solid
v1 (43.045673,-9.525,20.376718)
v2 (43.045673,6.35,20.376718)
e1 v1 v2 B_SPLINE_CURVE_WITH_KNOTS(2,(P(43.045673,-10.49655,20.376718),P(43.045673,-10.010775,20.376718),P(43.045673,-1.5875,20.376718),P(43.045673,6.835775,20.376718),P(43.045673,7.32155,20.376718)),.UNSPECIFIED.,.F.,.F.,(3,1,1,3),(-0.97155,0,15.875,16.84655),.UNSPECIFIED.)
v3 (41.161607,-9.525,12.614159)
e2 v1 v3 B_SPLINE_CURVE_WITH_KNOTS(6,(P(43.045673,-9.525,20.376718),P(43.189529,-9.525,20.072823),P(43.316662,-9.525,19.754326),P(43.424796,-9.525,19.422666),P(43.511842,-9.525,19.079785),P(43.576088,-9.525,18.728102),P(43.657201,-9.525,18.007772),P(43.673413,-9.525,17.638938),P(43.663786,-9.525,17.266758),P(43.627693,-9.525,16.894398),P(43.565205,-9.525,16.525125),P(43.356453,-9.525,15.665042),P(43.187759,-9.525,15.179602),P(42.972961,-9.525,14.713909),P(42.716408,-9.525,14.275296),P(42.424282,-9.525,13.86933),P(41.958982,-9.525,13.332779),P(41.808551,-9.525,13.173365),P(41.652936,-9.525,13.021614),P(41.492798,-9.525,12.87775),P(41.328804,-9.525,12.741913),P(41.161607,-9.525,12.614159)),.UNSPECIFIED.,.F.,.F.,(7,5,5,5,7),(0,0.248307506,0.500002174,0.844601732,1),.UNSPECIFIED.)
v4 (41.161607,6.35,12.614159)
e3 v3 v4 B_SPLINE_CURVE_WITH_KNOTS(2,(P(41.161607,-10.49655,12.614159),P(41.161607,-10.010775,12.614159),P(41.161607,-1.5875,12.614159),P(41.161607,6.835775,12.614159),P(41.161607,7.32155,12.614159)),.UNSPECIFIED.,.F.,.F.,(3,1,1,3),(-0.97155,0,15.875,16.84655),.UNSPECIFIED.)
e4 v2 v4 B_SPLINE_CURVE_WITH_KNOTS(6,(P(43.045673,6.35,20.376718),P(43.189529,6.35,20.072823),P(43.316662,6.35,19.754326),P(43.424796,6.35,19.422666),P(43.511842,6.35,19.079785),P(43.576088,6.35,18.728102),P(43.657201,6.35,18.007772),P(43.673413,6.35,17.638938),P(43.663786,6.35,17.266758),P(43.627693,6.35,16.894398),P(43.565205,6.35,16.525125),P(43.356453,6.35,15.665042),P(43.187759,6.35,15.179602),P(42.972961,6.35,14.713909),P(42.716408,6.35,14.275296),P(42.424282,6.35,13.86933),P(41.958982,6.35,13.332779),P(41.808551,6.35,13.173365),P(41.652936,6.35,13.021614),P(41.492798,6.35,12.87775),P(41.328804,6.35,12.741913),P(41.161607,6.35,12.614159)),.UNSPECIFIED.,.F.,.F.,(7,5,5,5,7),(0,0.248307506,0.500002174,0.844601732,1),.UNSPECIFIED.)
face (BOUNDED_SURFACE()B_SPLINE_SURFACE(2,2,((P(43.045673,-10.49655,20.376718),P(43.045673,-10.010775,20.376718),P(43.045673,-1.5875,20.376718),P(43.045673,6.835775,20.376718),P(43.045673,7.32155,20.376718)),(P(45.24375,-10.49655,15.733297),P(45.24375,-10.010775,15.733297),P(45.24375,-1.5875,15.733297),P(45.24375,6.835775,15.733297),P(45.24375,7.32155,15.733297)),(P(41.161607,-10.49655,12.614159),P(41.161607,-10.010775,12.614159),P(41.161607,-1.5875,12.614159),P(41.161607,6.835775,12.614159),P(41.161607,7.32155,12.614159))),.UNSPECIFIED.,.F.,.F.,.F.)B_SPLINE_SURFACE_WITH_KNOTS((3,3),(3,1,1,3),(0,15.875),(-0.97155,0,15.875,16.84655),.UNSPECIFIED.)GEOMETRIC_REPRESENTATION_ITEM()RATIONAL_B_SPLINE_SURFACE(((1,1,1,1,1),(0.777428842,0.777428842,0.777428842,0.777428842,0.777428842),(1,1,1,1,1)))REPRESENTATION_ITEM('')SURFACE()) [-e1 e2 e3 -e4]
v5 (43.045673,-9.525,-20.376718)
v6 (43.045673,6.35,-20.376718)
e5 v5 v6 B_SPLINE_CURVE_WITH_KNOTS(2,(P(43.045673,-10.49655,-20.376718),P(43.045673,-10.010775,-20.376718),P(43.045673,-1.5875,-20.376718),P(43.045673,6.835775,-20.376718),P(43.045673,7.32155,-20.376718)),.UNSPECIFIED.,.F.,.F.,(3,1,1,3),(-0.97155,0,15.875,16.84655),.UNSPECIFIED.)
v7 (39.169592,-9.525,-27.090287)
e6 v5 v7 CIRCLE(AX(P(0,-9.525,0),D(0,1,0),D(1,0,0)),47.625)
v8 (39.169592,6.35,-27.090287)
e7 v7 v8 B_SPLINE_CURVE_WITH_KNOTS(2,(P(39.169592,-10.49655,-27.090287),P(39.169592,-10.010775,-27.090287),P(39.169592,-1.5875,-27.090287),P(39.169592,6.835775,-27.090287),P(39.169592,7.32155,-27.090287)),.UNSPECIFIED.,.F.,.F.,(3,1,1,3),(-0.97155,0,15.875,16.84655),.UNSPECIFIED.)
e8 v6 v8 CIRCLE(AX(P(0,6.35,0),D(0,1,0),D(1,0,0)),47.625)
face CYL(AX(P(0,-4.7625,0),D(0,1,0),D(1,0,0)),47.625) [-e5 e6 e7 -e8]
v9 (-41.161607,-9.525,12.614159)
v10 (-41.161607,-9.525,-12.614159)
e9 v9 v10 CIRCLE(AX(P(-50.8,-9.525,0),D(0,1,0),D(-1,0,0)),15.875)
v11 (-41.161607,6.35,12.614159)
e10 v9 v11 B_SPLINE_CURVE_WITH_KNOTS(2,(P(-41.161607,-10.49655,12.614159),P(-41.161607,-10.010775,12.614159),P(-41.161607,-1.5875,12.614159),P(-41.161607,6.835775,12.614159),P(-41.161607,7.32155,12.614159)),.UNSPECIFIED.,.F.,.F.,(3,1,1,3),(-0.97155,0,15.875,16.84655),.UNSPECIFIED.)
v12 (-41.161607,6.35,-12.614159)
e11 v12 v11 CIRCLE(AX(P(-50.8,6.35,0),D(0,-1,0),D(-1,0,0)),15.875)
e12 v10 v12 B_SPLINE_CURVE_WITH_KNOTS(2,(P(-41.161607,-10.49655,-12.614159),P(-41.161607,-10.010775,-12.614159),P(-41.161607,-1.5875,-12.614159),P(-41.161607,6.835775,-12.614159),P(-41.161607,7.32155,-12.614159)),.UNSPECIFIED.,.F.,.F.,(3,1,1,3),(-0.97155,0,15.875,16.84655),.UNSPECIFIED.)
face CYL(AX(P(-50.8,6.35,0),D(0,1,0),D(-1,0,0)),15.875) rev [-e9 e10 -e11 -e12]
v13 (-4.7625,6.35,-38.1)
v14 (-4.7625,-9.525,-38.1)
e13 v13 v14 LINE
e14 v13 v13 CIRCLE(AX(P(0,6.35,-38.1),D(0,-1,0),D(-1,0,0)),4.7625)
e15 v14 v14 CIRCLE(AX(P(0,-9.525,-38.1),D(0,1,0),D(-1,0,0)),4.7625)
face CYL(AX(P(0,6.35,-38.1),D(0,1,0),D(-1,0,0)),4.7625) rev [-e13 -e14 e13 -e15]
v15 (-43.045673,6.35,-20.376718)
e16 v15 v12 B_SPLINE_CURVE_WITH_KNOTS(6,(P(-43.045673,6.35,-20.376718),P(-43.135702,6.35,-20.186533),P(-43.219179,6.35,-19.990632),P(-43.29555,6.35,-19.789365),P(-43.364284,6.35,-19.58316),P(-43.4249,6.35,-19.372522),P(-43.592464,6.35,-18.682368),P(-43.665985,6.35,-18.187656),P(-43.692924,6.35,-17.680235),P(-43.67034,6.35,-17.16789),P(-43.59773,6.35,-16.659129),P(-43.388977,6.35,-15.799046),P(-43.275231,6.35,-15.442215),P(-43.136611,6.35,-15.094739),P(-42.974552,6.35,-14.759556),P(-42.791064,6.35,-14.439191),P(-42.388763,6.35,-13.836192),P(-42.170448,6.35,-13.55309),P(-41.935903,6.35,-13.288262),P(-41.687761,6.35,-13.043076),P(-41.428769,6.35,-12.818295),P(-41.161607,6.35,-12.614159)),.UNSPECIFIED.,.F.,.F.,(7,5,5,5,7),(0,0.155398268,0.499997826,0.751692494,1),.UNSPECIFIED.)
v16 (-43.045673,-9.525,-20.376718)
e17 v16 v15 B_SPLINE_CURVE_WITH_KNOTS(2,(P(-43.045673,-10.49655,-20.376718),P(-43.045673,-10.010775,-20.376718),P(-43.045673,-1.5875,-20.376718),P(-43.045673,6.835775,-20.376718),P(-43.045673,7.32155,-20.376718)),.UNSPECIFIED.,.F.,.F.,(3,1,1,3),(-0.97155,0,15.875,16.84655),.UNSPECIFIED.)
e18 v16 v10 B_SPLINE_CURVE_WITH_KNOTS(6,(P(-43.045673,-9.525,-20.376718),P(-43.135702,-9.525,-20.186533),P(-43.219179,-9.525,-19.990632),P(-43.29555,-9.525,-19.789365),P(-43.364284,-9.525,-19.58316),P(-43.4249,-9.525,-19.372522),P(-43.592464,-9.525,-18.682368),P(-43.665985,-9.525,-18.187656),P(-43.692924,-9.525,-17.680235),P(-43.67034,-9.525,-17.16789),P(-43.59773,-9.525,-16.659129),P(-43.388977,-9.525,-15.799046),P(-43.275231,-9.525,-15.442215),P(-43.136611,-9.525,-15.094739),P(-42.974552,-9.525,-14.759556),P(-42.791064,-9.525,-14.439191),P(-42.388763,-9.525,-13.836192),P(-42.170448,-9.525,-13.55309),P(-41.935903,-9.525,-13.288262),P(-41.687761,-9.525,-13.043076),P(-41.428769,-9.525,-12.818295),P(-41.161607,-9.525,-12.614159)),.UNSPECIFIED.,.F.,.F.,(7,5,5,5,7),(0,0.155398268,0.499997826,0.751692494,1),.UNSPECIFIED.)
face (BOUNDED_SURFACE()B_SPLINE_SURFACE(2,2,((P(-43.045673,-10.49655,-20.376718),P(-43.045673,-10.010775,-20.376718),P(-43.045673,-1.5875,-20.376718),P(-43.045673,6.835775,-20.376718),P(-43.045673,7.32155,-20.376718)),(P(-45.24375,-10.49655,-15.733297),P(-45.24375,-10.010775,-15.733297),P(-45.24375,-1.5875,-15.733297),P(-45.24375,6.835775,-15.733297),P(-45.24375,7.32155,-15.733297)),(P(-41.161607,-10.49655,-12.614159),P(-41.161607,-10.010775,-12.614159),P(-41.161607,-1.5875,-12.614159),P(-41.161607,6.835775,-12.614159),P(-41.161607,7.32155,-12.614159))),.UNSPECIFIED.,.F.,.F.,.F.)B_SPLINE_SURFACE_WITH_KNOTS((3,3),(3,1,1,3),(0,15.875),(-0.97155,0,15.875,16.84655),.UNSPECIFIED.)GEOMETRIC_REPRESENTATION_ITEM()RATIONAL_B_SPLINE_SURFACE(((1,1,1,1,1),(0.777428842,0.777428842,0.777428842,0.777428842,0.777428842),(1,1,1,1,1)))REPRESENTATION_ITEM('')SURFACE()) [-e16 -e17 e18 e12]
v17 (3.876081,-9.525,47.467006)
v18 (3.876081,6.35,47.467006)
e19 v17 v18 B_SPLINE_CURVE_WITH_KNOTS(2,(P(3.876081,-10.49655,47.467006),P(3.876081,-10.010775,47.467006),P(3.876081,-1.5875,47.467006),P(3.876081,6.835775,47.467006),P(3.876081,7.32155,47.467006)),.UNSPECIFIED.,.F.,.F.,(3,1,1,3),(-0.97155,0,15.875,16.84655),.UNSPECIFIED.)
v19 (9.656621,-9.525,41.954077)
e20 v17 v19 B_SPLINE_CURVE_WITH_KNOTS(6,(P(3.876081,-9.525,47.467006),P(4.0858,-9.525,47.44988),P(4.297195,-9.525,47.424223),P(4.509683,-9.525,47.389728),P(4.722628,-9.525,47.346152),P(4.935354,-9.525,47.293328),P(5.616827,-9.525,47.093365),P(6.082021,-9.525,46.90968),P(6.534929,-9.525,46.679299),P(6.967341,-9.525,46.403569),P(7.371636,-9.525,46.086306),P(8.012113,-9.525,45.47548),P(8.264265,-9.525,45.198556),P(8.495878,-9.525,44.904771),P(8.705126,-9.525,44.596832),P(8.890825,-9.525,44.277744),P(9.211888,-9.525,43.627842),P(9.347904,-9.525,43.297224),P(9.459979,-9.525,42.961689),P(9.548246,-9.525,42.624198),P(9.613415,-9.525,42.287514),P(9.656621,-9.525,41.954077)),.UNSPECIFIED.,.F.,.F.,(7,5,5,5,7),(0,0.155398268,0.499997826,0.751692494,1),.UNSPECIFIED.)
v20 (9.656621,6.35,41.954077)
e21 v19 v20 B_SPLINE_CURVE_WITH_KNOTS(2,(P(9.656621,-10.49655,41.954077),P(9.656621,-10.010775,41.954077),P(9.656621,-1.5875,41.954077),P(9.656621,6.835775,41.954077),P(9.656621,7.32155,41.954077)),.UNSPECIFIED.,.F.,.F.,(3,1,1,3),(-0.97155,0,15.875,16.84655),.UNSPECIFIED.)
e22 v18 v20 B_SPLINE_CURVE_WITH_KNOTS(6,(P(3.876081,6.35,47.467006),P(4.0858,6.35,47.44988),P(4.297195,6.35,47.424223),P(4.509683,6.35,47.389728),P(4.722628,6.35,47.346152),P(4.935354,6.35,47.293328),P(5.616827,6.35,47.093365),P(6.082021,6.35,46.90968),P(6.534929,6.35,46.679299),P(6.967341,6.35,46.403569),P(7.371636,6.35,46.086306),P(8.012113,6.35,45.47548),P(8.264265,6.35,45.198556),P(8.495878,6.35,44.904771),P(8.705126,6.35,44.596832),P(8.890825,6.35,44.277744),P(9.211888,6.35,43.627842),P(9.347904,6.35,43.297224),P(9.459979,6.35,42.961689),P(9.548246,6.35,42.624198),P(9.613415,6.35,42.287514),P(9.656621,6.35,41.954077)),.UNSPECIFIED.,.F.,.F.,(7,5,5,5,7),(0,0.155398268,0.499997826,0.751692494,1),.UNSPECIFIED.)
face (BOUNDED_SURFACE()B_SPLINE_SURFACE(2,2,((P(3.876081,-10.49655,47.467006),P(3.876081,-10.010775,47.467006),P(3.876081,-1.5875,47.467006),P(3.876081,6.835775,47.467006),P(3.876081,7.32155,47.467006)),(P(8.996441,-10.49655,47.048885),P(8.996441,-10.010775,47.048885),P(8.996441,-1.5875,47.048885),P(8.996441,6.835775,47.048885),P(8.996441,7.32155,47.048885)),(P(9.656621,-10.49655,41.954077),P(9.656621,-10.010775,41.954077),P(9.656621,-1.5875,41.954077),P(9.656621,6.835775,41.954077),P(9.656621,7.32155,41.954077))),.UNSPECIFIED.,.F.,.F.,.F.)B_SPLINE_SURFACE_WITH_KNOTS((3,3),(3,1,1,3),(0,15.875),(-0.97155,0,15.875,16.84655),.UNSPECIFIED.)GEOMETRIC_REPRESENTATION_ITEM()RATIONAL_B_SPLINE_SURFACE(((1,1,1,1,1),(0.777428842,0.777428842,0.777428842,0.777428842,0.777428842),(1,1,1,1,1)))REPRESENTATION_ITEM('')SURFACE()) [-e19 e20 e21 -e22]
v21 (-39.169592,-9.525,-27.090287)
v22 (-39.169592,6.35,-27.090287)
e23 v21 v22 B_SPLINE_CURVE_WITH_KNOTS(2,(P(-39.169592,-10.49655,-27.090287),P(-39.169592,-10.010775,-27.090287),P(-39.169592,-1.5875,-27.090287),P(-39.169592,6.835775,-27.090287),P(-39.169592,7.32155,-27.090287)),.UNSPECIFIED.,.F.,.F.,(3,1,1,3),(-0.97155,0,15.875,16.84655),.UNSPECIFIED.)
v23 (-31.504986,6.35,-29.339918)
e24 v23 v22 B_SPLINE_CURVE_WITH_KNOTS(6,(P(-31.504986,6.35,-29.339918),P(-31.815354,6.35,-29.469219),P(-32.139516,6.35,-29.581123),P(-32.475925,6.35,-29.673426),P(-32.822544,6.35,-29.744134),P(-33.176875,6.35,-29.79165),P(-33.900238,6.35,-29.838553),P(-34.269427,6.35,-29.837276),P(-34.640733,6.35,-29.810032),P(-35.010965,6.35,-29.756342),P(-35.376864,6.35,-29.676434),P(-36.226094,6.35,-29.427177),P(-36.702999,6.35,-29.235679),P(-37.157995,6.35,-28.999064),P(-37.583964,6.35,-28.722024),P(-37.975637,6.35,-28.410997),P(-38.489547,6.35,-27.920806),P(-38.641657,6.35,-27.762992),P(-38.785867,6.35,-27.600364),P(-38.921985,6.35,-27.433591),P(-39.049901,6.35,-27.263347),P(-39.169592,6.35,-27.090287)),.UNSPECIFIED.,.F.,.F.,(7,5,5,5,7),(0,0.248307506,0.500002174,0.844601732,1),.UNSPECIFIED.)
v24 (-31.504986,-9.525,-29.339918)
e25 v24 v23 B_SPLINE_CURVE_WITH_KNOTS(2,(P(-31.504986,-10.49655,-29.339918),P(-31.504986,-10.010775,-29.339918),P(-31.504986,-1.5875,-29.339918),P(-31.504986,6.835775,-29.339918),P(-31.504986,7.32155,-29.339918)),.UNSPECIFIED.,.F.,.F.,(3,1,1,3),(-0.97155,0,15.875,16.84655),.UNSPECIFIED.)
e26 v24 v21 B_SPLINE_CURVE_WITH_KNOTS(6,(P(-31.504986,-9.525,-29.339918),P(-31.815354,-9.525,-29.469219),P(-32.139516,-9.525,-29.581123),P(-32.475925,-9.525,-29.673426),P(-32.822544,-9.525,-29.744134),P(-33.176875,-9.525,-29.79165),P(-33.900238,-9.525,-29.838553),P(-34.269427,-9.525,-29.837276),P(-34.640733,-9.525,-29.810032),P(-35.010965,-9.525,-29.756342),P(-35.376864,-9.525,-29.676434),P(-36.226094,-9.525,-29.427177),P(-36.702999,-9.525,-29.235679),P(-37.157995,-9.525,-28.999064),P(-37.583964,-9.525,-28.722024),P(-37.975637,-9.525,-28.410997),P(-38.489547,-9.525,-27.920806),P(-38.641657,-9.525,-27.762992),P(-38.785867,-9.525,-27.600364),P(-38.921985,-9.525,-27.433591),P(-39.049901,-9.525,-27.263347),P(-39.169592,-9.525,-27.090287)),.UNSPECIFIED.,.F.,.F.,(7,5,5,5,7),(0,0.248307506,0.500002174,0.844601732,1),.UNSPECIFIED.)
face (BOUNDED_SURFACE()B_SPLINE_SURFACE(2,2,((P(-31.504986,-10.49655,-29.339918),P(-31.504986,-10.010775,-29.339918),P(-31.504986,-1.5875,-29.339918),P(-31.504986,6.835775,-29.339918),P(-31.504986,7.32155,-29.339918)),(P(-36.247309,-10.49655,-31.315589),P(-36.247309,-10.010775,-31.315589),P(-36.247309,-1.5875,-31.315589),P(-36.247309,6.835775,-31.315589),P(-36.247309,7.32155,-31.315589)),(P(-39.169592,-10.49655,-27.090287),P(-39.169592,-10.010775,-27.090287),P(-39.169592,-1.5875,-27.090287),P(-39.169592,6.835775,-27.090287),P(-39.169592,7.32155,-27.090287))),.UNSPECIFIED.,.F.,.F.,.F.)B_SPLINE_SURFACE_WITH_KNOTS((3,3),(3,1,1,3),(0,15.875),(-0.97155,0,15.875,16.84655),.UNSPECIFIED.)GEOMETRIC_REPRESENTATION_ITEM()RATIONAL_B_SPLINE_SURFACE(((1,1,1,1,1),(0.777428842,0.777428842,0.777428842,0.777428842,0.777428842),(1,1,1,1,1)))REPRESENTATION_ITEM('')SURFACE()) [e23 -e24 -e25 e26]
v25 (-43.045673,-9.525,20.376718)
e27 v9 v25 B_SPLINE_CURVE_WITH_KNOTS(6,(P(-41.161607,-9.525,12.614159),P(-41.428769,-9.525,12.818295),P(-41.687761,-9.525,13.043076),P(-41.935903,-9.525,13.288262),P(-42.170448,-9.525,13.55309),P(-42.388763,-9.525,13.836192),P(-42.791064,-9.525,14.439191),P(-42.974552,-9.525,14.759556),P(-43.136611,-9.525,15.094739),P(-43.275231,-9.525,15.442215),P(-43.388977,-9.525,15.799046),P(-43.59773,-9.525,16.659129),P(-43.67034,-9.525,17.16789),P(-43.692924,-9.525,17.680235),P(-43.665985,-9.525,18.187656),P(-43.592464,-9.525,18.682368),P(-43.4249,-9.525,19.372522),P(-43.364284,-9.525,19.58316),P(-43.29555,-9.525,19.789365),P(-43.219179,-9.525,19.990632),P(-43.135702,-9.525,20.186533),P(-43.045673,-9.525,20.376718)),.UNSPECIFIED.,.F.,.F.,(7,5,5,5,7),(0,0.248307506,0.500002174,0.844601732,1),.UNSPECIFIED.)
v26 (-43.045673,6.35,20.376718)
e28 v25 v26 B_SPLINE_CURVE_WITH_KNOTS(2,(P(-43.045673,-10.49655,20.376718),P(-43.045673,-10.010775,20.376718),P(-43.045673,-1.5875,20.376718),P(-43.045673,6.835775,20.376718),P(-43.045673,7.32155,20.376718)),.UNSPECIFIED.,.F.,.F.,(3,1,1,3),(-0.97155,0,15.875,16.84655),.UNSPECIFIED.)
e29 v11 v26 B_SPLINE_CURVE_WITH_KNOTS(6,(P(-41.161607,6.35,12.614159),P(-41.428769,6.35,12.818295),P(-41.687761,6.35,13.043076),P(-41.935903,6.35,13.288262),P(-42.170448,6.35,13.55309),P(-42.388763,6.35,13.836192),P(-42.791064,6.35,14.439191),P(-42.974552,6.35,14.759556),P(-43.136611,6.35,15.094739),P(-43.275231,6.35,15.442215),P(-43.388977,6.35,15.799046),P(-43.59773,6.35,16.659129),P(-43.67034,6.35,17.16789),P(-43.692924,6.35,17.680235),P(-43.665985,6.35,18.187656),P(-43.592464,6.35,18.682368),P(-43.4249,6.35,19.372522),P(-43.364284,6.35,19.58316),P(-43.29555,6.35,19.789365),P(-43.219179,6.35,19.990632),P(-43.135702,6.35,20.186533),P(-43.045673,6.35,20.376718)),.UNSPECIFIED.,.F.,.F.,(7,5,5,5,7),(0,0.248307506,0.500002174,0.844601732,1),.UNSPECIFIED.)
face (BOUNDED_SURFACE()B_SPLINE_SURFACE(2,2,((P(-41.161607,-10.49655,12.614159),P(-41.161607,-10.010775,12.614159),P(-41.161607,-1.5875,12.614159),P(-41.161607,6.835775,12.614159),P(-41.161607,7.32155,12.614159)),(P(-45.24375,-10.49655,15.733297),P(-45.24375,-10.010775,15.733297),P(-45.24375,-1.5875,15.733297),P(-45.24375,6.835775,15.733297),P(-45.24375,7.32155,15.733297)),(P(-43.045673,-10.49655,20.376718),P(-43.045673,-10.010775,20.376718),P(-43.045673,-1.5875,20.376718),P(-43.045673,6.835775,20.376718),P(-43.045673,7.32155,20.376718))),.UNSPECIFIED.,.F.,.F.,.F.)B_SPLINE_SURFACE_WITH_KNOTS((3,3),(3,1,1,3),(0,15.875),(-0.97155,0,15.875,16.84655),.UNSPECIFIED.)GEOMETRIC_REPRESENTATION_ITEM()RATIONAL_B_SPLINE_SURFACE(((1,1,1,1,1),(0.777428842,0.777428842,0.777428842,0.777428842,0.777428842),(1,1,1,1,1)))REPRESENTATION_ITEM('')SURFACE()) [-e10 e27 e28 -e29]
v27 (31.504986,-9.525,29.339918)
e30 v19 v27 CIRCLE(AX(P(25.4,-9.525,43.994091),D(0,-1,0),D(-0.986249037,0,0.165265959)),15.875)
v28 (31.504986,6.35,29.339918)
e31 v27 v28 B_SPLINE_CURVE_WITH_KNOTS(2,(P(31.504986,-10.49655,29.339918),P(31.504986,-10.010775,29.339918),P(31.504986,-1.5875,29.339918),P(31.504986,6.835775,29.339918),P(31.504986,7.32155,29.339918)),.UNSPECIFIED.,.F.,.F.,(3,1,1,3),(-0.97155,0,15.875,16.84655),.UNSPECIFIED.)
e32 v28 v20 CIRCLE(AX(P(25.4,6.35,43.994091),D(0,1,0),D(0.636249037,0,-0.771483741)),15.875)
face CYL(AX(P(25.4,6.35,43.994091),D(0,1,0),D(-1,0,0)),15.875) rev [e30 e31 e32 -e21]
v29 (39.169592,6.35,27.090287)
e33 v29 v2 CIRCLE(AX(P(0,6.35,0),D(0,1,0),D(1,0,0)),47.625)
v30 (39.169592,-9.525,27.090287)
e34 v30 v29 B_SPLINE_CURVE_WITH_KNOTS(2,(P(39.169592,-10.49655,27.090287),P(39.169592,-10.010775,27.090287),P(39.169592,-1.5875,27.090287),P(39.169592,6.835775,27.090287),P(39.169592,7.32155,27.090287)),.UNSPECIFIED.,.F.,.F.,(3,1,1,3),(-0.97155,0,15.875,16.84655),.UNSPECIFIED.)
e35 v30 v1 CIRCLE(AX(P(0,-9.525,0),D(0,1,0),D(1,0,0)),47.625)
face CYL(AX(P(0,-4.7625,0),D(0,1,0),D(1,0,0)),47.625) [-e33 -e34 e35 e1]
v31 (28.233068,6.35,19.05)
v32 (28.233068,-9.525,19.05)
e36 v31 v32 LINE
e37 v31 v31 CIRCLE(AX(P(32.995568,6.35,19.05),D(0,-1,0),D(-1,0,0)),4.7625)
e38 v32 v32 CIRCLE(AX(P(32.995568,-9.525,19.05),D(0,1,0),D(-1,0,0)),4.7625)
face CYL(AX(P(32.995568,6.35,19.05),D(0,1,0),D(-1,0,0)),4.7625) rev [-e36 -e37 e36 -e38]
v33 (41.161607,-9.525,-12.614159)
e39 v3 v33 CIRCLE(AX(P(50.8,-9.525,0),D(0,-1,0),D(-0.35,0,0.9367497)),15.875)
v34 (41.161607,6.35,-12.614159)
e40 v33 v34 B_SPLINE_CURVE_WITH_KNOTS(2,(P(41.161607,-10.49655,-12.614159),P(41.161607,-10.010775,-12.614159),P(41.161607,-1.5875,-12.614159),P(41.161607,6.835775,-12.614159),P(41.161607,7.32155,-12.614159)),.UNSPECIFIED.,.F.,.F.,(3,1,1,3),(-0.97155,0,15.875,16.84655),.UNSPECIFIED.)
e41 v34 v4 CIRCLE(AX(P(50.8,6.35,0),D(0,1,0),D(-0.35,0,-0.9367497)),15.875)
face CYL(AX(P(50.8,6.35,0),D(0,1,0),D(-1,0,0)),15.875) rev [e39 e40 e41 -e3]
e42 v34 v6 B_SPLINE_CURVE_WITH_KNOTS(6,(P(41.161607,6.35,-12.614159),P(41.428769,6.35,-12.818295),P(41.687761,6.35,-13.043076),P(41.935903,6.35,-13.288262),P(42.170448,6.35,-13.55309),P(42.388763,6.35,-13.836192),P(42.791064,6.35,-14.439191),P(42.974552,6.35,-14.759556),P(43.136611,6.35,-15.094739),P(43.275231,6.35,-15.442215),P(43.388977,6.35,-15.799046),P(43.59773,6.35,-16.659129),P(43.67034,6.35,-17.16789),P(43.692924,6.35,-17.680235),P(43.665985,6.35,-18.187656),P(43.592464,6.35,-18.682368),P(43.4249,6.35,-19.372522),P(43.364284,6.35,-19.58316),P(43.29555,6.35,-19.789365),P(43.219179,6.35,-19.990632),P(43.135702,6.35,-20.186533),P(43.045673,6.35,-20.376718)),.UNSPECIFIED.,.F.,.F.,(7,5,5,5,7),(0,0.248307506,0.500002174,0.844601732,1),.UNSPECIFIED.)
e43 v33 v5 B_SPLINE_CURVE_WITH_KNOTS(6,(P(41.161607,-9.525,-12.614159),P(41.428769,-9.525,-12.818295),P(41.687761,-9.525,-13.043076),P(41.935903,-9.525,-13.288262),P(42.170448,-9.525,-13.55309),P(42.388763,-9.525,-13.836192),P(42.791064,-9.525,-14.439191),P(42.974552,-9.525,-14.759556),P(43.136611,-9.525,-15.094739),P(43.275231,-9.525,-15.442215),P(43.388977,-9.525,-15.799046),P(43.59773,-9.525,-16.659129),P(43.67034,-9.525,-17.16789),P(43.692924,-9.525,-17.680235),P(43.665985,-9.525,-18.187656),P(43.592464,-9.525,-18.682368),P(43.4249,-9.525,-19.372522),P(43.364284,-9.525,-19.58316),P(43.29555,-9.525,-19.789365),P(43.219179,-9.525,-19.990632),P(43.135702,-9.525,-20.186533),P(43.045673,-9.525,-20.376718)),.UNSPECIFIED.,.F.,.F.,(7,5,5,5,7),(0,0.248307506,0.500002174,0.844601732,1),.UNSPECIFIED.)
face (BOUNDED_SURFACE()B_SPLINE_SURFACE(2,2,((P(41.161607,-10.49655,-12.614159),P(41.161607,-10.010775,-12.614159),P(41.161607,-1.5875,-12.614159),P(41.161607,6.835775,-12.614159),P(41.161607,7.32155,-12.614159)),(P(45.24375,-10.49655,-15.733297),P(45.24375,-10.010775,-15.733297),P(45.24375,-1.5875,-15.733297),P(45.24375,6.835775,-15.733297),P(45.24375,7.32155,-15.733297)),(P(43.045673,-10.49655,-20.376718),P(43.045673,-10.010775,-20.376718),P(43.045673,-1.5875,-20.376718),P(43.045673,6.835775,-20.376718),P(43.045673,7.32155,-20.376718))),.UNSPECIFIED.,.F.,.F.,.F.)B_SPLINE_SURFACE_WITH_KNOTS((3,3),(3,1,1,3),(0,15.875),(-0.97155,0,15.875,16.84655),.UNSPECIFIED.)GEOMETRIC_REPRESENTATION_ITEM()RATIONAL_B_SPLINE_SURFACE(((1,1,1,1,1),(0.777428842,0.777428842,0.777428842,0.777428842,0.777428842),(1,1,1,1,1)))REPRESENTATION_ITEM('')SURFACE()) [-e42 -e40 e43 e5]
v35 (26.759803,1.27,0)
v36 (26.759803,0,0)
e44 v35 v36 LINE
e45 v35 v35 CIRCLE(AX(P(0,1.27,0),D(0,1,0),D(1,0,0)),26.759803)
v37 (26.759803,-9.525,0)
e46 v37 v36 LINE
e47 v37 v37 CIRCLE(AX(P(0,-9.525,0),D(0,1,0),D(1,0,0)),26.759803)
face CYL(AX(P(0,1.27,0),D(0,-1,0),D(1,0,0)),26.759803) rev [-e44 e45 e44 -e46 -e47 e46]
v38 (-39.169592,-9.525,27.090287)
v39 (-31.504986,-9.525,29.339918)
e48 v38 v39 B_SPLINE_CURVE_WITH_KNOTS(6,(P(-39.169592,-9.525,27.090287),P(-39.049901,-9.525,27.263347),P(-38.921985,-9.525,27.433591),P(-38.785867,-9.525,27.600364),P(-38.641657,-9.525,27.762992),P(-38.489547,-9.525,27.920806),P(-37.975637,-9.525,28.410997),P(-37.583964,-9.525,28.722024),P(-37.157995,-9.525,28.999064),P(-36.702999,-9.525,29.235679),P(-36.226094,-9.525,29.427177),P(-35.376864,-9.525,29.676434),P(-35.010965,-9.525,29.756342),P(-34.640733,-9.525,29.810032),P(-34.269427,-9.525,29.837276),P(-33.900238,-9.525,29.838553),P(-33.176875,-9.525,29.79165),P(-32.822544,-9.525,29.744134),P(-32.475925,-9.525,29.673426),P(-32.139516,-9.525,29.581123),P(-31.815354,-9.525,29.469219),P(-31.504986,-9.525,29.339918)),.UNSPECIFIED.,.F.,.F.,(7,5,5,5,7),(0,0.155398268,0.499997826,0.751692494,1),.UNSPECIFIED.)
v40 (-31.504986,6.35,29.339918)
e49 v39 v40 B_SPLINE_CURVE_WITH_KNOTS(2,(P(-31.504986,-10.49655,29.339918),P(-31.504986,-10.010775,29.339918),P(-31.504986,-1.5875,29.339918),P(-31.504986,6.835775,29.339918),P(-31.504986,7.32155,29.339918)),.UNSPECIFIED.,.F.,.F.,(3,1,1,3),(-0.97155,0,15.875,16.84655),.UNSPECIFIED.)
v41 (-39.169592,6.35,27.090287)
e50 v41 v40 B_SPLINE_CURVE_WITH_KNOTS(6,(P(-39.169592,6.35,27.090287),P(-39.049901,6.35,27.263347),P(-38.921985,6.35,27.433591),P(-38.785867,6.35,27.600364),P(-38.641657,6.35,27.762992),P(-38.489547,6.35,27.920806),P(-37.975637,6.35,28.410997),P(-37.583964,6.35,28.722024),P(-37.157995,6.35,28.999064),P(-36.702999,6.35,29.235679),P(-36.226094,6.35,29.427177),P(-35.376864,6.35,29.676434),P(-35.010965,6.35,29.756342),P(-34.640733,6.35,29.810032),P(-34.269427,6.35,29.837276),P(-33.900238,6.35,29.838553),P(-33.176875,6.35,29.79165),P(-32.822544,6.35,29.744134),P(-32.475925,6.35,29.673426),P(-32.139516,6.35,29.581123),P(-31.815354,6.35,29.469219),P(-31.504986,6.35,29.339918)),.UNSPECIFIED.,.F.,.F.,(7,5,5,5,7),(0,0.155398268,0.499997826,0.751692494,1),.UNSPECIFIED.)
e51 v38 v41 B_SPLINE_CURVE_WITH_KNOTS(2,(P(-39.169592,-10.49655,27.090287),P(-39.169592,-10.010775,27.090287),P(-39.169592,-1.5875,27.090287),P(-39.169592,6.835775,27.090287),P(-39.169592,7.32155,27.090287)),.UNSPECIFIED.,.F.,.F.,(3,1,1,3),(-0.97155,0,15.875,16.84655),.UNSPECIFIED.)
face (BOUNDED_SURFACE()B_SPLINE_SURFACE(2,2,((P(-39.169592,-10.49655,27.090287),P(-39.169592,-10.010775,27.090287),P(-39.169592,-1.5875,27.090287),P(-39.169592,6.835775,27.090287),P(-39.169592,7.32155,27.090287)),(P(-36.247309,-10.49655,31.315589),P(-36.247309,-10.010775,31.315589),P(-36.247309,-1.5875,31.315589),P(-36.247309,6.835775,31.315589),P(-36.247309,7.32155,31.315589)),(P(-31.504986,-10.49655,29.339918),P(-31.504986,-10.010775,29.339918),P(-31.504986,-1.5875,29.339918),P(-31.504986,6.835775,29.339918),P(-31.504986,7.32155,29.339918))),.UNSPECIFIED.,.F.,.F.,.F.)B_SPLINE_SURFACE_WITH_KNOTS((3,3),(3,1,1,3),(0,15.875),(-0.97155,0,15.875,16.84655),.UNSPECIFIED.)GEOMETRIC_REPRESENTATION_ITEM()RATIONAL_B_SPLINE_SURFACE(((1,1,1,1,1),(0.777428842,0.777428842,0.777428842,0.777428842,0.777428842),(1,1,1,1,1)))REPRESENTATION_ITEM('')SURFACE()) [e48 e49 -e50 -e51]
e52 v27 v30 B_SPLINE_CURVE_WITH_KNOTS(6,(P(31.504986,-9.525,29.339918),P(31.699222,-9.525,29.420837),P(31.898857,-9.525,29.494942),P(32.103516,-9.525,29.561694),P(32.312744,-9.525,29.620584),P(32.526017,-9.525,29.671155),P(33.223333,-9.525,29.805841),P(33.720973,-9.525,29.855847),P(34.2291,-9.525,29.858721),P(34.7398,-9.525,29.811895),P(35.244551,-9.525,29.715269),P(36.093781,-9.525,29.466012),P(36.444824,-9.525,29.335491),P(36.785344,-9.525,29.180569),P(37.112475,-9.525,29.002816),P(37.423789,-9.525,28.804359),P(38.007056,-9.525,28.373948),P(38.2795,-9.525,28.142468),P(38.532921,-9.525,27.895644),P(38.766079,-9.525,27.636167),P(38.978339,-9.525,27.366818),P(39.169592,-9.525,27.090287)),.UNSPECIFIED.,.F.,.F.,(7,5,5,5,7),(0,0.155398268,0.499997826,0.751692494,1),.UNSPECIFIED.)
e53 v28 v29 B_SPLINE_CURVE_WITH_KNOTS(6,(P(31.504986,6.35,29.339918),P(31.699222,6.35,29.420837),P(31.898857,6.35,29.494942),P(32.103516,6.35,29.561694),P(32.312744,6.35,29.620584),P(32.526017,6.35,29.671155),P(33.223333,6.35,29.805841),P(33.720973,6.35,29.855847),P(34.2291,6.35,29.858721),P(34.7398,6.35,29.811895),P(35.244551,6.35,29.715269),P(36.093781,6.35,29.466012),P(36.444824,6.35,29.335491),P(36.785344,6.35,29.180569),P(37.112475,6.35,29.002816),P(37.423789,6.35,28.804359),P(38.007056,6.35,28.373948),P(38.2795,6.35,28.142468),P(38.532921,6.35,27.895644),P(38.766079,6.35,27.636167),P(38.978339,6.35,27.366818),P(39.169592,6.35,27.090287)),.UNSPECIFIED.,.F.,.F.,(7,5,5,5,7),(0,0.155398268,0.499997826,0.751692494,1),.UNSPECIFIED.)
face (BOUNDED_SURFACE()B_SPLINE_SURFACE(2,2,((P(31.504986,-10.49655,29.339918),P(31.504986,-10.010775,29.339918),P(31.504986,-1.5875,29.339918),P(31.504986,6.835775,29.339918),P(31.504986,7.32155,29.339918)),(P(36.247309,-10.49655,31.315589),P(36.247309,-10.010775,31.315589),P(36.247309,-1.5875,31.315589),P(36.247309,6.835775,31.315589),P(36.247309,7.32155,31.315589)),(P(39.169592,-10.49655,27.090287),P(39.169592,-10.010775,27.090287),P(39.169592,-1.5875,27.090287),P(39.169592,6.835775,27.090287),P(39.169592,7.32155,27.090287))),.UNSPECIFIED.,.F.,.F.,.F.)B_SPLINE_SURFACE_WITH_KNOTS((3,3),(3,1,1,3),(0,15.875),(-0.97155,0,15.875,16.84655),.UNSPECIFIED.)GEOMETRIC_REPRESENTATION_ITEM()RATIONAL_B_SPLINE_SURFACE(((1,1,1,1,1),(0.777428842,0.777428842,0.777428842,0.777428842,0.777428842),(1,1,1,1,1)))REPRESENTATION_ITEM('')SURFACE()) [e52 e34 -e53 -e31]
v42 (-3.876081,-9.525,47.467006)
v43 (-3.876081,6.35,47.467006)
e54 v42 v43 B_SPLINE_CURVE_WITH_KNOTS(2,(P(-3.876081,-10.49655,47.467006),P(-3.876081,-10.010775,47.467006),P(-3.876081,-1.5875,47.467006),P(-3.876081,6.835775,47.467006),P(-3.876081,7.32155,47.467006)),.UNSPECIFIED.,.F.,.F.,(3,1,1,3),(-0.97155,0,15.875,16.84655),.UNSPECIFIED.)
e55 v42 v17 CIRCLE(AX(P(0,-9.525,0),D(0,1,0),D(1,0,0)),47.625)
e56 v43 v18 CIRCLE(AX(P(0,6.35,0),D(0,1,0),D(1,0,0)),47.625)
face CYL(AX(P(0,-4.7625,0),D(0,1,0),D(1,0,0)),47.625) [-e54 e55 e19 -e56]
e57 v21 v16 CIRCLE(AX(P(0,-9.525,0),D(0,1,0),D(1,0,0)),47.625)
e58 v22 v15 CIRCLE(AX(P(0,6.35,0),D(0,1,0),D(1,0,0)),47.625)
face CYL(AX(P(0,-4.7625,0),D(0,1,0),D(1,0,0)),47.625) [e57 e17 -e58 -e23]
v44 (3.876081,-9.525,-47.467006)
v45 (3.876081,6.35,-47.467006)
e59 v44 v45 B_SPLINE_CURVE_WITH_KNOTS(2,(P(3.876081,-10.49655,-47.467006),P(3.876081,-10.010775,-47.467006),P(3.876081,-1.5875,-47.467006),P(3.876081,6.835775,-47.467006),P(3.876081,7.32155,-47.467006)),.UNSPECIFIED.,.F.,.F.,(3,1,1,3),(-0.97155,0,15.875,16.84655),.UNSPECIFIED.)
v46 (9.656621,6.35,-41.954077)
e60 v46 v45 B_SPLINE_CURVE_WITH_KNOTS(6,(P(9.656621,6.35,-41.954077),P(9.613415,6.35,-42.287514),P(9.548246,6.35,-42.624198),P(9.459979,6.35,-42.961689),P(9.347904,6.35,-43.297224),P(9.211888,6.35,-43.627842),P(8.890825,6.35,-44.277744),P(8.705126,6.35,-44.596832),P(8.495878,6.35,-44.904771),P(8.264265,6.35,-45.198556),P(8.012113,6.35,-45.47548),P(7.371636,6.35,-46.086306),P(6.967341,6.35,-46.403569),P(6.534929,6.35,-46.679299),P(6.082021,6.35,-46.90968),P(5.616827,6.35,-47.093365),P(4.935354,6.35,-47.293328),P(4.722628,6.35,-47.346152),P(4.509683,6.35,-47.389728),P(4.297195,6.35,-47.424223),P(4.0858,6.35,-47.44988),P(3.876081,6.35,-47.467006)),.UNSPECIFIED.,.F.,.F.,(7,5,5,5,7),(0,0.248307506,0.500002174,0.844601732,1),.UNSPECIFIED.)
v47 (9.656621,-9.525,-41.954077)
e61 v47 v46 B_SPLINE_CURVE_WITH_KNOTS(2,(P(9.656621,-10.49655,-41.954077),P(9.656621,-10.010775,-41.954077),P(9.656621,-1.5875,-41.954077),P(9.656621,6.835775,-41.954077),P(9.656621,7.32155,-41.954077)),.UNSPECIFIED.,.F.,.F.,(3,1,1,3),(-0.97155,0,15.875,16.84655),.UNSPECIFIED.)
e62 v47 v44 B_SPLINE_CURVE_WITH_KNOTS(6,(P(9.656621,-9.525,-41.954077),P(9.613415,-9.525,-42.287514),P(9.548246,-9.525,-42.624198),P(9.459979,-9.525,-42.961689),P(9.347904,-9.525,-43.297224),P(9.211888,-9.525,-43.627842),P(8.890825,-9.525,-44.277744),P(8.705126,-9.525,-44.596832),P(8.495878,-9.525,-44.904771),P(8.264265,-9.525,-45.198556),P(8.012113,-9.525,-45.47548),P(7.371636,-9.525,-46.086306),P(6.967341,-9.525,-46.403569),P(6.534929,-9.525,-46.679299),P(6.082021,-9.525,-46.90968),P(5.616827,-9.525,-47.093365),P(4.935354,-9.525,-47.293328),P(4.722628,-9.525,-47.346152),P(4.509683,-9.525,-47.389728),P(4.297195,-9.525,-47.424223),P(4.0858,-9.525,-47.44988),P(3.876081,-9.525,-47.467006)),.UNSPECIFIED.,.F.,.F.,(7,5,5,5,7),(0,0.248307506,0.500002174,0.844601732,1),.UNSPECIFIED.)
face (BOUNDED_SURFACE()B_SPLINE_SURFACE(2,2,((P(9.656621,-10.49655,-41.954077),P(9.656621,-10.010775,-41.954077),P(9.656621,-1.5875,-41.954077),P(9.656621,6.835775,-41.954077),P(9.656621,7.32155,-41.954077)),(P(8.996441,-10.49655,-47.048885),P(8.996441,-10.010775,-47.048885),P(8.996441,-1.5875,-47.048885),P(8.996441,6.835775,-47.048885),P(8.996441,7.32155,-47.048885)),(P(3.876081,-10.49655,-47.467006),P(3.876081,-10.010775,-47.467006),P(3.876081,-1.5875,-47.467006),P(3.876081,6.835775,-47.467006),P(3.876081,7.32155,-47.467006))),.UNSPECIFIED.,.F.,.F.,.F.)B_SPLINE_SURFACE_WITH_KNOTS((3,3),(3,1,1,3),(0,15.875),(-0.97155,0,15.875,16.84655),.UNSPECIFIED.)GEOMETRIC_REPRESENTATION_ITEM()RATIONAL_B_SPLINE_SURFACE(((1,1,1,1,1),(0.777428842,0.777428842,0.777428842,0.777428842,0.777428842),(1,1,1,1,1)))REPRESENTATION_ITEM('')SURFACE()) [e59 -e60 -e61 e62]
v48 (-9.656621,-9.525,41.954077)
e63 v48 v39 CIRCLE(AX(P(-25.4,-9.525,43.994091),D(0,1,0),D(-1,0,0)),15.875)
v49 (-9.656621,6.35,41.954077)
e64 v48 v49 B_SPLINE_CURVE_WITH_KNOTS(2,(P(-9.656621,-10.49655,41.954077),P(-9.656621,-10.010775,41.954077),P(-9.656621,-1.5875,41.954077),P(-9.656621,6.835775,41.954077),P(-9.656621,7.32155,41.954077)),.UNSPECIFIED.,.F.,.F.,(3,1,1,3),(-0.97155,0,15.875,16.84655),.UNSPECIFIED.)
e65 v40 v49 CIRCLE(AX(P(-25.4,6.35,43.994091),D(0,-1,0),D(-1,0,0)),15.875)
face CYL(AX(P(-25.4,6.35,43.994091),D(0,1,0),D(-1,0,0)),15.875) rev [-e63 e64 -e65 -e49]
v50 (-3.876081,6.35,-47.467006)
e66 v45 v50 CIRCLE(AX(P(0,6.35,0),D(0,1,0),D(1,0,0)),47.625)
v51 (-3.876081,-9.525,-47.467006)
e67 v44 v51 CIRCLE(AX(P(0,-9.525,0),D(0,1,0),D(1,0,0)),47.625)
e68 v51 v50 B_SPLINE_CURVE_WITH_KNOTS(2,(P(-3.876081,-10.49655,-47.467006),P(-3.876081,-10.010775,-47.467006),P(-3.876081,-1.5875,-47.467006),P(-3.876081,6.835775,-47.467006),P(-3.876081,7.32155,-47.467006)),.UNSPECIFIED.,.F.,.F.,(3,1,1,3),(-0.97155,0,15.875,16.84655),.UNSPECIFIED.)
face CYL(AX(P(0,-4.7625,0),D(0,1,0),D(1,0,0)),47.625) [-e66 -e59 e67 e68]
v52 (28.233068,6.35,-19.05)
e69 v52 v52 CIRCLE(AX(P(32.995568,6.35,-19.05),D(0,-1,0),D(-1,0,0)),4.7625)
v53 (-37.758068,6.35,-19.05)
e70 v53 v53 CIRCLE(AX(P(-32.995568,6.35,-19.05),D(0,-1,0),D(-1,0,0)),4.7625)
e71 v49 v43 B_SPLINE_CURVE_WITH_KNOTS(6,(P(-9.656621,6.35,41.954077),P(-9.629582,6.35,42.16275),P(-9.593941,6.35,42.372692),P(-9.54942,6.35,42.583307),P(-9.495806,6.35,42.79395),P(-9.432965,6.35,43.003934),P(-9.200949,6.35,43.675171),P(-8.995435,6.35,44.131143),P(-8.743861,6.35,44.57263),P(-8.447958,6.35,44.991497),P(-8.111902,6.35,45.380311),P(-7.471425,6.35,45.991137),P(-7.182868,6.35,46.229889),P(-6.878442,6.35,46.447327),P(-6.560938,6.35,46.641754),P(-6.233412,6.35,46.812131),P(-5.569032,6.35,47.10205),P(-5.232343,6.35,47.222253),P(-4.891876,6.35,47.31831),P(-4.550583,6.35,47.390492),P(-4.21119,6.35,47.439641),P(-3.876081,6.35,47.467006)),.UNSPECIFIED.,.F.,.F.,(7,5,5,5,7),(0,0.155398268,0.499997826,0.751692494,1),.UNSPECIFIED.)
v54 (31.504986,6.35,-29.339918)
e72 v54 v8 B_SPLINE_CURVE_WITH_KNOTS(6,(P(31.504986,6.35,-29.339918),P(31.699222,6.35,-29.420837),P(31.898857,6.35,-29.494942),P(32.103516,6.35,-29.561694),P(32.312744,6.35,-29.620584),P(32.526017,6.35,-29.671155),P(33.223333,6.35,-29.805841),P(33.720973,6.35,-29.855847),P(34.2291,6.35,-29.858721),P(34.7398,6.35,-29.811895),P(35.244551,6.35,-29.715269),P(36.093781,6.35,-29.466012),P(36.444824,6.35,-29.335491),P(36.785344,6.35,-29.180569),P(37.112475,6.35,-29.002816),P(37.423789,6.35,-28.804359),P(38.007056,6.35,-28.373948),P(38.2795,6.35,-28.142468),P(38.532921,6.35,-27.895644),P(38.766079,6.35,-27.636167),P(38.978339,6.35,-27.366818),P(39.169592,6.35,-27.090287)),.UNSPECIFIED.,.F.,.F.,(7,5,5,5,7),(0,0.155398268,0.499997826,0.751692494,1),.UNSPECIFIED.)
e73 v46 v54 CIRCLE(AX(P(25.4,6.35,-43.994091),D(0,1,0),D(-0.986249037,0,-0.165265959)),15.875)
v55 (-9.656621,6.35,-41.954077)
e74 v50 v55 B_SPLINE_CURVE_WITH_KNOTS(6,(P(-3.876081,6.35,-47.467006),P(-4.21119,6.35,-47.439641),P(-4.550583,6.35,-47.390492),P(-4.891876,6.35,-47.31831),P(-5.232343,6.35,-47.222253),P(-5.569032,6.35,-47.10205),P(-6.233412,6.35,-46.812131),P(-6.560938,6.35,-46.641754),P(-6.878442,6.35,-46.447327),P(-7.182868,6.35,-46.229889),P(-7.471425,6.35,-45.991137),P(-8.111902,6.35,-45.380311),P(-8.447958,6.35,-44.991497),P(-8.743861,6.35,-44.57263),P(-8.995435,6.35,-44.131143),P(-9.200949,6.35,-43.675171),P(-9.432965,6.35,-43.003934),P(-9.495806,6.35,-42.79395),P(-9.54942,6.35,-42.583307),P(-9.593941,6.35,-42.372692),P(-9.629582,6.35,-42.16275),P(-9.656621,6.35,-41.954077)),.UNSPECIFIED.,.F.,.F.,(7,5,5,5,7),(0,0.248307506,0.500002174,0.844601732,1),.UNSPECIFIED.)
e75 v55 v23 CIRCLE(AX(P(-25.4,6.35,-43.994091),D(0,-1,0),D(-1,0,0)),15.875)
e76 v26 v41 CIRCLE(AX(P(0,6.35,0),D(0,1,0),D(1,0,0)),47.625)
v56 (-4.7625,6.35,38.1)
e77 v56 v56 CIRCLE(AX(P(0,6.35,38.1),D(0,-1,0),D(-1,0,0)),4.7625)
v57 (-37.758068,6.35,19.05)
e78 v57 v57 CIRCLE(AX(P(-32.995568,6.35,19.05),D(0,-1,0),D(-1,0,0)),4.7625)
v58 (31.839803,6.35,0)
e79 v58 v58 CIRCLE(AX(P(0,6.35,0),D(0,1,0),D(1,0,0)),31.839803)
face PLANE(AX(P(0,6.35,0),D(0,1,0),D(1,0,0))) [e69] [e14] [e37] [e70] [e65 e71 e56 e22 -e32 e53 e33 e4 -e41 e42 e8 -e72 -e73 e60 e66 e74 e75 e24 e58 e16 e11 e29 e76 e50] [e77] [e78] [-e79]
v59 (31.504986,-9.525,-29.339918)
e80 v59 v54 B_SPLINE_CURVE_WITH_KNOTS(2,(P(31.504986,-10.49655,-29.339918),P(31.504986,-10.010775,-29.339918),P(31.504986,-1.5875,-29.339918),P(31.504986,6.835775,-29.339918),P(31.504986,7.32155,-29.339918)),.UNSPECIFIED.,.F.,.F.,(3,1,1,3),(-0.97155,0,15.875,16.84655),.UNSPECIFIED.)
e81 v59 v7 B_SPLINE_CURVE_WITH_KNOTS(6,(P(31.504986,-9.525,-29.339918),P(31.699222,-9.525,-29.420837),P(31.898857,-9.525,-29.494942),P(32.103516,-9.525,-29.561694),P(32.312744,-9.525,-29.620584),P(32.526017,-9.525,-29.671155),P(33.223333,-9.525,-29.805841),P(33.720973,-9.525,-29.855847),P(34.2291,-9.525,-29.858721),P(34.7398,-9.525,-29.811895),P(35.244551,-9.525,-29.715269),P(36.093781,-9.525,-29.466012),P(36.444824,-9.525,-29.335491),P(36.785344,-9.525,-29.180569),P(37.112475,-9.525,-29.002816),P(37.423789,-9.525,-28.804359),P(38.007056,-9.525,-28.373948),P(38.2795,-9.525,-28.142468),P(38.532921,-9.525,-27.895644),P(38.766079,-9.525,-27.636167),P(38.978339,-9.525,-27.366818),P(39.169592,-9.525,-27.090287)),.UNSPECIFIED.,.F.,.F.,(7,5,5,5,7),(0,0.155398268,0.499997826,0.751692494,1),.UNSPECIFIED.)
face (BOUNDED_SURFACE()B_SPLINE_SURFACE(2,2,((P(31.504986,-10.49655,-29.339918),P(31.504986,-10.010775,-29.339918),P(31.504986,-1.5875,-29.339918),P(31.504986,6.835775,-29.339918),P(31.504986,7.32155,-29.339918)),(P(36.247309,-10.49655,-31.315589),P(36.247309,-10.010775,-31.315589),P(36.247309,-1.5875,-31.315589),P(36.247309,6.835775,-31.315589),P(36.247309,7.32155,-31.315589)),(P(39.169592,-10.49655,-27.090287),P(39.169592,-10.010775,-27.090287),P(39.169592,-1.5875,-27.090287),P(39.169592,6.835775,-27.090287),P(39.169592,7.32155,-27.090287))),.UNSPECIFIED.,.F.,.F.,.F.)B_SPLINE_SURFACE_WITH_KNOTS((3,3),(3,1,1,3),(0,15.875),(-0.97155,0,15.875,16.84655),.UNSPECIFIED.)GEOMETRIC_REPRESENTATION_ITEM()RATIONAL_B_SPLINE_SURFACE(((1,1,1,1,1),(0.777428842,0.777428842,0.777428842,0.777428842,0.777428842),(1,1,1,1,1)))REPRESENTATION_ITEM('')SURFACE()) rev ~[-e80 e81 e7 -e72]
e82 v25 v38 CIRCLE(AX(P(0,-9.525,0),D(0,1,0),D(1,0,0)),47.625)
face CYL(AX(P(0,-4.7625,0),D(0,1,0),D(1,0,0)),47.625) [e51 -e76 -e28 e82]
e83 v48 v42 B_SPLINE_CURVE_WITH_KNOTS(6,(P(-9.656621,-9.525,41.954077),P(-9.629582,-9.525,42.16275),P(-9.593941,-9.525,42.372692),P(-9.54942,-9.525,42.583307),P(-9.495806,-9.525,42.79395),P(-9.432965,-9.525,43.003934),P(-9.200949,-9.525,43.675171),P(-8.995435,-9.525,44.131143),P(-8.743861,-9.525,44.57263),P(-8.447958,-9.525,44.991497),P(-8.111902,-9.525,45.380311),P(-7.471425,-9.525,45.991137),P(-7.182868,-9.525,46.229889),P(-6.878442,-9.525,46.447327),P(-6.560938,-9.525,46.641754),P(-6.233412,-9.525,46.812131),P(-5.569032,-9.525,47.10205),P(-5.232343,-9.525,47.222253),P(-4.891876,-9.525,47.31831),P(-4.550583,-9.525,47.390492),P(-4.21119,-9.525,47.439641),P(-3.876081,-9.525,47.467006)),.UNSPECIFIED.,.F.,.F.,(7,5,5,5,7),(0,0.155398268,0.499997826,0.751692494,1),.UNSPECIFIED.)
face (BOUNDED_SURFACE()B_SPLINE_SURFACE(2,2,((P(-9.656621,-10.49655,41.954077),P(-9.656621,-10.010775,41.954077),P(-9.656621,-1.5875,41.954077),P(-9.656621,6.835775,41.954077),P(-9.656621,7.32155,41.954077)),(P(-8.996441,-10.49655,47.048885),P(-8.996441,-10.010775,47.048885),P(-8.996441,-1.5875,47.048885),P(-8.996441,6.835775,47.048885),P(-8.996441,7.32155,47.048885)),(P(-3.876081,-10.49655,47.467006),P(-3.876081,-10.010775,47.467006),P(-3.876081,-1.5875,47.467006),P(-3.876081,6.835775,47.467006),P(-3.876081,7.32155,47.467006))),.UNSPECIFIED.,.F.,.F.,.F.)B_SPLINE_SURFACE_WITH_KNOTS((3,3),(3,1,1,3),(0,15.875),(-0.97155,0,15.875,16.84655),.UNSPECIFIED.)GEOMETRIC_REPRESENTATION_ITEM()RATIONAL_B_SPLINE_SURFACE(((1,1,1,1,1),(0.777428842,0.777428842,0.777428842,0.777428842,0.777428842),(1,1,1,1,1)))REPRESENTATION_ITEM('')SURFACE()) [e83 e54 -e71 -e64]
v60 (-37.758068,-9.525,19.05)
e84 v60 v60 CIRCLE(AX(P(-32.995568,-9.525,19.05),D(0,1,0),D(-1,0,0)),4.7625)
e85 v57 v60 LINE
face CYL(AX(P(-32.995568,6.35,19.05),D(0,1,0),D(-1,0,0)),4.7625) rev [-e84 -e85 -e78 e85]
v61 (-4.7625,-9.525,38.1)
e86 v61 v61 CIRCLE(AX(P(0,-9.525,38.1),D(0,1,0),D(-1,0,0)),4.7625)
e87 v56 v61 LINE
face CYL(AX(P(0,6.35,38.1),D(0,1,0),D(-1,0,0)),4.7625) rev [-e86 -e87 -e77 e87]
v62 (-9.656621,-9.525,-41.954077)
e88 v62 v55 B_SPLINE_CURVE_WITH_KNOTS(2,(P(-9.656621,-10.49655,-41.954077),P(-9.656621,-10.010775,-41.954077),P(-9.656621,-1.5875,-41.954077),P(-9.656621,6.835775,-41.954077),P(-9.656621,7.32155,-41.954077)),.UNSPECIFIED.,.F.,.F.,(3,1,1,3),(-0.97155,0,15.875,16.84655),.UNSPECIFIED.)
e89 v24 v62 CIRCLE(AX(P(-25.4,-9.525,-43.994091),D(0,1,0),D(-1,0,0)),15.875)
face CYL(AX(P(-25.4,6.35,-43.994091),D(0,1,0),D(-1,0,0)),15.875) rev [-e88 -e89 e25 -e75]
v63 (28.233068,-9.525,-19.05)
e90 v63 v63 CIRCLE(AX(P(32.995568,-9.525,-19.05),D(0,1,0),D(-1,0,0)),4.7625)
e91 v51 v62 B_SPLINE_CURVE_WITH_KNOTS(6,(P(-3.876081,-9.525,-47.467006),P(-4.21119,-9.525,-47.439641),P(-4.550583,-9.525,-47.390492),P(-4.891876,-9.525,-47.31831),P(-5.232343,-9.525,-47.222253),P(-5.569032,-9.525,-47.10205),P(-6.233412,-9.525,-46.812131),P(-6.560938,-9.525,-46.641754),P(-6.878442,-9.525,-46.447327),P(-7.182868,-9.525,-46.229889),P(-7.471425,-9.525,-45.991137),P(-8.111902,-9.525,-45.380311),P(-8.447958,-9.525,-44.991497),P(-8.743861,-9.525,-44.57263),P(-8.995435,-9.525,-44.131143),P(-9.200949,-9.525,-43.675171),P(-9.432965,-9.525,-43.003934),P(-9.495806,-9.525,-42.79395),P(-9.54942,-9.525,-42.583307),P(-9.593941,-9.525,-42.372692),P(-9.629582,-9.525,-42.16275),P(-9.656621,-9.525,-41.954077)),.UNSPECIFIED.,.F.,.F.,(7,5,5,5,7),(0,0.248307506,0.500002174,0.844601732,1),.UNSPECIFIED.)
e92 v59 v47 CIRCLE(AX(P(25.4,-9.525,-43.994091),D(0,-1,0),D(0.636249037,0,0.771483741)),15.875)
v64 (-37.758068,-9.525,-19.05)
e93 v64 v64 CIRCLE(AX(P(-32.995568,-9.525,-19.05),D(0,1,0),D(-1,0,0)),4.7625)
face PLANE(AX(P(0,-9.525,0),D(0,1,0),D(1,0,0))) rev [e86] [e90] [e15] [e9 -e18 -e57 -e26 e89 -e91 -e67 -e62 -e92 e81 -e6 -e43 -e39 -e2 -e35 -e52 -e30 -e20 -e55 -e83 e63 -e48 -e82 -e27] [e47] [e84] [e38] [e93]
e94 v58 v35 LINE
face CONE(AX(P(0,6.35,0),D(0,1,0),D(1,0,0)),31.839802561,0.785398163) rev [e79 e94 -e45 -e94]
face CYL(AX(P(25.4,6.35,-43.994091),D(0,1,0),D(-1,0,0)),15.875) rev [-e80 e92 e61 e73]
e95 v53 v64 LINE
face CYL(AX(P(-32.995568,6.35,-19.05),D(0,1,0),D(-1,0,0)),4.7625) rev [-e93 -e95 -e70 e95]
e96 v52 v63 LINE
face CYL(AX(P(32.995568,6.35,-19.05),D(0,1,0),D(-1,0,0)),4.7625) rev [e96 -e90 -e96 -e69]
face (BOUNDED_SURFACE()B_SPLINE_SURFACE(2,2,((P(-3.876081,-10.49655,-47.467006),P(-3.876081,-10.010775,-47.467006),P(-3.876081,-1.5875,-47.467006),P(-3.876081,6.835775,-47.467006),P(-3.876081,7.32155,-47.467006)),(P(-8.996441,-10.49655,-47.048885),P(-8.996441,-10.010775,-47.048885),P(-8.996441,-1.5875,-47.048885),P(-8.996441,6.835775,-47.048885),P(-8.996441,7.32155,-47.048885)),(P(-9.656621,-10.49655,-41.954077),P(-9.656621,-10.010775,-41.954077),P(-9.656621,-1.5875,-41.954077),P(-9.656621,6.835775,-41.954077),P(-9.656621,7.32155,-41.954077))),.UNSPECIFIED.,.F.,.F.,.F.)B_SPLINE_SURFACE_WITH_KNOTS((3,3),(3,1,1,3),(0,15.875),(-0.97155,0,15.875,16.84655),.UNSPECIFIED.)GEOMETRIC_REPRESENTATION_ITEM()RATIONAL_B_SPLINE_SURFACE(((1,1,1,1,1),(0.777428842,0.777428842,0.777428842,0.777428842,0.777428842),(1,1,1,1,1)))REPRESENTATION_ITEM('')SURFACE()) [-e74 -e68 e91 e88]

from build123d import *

# Parameters (mm, degrees)
SKETCH1_W               = 20.865197439
SKETCH1_H               = 9.525
SKETCH2_R               = 4.7625
SKETCH2_R_2             = 15.875
CUT_EXTRUDE1_DEPTH      = 16.875
CUT_EXTRUDE1_DEPTH_BACK = 1
FILLET1_R               = 6.35


with BuildPart() as part:
    # Sketch1 → Revolve1 (revolve)
    with BuildSketch(Plane.XY):
        Polygon((31.839802561, 6.35), (26.759802561, 1.27), (26.759802561, 0), (47.625, 0), (47.625, 6.35), align=None)
        with Locations((37.192401281, -4.7625)):
            Rectangle(SKETCH1_W, SKETCH1_H)
    revolve(axis=Axis((0, 0, 0), (0, 1, 0)))

    # Sketch2 → Cut-Extrude1 (cut, two sides)
    with BuildSketch(Plane(origin=(0, 6.35, 0), x_dir=(-1, 0, 0), z_dir=(0, -1, 0))) as cut_extrude1_sk:
        with Locations((0, 38.1)):
            Circle(SKETCH2_R)
        with Locations((32.995567884, 19.05)):
            Circle(SKETCH2_R)
        with Locations((32.995567884, -19.05)):
            Circle(SKETCH2_R)
        with Locations((0, -38.1)):
            Circle(SKETCH2_R)
        with Locations((-32.995567884, -19.05)):
            Circle(SKETCH2_R)
        with Locations((-32.995567884, 19.05)):
            Circle(SKETCH2_R)
        with Locations((50.8, 0)):
            Circle(SKETCH2_R_2)
        with Locations((25.4, -43.994090512)):
            Circle(SKETCH2_R_2)
        with Locations((-25.4, -43.994090512)):
            Circle(SKETCH2_R_2)
        with Locations((-50.8, 0)):
            Circle(SKETCH2_R_2)
        with Locations((-25.4, 43.994090512)):
            Circle(SKETCH2_R_2)
        with Locations((25.4, 43.994090512)):
            Circle(SKETCH2_R_2)
    extrude(amount=CUT_EXTRUDE1_DEPTH, mode=Mode.SUBTRACT)
    extrude(cut_extrude1_sk.sketch, amount=-CUT_EXTRUDE1_DEPTH_BACK, mode=Mode.SUBTRACT)

    # Fillet1
    fillet1_edges = [part.edges().sort_by_distance(p)[0] for p in [
        (-35.500453462, -1.5875, 31.746786121),
        (-9.743296538, -1.5875, 46.617687604),
        (-45.24375, -1.5875, -14.870901484),
        (-45.24375, -1.5875, 14.870901484),
        (9.743296538, -1.5875, 46.617687604),
        (35.500453462, -1.5875, 31.746786121),
        (45.24375, -1.5875, 14.870901484),
        (45.24375, -1.5875, -14.870901484),
        (35.500453462, -1.5875, -31.746786121),
        (9.743296538, -1.5875, -46.617687604),
        (-9.743296538, -1.5875, -46.617687604),
        (-35.500453462, -1.5875, -31.746786121),
    ]]
    fillet(fillet1_edges, radius=FILLET1_R)


solid = part.part
